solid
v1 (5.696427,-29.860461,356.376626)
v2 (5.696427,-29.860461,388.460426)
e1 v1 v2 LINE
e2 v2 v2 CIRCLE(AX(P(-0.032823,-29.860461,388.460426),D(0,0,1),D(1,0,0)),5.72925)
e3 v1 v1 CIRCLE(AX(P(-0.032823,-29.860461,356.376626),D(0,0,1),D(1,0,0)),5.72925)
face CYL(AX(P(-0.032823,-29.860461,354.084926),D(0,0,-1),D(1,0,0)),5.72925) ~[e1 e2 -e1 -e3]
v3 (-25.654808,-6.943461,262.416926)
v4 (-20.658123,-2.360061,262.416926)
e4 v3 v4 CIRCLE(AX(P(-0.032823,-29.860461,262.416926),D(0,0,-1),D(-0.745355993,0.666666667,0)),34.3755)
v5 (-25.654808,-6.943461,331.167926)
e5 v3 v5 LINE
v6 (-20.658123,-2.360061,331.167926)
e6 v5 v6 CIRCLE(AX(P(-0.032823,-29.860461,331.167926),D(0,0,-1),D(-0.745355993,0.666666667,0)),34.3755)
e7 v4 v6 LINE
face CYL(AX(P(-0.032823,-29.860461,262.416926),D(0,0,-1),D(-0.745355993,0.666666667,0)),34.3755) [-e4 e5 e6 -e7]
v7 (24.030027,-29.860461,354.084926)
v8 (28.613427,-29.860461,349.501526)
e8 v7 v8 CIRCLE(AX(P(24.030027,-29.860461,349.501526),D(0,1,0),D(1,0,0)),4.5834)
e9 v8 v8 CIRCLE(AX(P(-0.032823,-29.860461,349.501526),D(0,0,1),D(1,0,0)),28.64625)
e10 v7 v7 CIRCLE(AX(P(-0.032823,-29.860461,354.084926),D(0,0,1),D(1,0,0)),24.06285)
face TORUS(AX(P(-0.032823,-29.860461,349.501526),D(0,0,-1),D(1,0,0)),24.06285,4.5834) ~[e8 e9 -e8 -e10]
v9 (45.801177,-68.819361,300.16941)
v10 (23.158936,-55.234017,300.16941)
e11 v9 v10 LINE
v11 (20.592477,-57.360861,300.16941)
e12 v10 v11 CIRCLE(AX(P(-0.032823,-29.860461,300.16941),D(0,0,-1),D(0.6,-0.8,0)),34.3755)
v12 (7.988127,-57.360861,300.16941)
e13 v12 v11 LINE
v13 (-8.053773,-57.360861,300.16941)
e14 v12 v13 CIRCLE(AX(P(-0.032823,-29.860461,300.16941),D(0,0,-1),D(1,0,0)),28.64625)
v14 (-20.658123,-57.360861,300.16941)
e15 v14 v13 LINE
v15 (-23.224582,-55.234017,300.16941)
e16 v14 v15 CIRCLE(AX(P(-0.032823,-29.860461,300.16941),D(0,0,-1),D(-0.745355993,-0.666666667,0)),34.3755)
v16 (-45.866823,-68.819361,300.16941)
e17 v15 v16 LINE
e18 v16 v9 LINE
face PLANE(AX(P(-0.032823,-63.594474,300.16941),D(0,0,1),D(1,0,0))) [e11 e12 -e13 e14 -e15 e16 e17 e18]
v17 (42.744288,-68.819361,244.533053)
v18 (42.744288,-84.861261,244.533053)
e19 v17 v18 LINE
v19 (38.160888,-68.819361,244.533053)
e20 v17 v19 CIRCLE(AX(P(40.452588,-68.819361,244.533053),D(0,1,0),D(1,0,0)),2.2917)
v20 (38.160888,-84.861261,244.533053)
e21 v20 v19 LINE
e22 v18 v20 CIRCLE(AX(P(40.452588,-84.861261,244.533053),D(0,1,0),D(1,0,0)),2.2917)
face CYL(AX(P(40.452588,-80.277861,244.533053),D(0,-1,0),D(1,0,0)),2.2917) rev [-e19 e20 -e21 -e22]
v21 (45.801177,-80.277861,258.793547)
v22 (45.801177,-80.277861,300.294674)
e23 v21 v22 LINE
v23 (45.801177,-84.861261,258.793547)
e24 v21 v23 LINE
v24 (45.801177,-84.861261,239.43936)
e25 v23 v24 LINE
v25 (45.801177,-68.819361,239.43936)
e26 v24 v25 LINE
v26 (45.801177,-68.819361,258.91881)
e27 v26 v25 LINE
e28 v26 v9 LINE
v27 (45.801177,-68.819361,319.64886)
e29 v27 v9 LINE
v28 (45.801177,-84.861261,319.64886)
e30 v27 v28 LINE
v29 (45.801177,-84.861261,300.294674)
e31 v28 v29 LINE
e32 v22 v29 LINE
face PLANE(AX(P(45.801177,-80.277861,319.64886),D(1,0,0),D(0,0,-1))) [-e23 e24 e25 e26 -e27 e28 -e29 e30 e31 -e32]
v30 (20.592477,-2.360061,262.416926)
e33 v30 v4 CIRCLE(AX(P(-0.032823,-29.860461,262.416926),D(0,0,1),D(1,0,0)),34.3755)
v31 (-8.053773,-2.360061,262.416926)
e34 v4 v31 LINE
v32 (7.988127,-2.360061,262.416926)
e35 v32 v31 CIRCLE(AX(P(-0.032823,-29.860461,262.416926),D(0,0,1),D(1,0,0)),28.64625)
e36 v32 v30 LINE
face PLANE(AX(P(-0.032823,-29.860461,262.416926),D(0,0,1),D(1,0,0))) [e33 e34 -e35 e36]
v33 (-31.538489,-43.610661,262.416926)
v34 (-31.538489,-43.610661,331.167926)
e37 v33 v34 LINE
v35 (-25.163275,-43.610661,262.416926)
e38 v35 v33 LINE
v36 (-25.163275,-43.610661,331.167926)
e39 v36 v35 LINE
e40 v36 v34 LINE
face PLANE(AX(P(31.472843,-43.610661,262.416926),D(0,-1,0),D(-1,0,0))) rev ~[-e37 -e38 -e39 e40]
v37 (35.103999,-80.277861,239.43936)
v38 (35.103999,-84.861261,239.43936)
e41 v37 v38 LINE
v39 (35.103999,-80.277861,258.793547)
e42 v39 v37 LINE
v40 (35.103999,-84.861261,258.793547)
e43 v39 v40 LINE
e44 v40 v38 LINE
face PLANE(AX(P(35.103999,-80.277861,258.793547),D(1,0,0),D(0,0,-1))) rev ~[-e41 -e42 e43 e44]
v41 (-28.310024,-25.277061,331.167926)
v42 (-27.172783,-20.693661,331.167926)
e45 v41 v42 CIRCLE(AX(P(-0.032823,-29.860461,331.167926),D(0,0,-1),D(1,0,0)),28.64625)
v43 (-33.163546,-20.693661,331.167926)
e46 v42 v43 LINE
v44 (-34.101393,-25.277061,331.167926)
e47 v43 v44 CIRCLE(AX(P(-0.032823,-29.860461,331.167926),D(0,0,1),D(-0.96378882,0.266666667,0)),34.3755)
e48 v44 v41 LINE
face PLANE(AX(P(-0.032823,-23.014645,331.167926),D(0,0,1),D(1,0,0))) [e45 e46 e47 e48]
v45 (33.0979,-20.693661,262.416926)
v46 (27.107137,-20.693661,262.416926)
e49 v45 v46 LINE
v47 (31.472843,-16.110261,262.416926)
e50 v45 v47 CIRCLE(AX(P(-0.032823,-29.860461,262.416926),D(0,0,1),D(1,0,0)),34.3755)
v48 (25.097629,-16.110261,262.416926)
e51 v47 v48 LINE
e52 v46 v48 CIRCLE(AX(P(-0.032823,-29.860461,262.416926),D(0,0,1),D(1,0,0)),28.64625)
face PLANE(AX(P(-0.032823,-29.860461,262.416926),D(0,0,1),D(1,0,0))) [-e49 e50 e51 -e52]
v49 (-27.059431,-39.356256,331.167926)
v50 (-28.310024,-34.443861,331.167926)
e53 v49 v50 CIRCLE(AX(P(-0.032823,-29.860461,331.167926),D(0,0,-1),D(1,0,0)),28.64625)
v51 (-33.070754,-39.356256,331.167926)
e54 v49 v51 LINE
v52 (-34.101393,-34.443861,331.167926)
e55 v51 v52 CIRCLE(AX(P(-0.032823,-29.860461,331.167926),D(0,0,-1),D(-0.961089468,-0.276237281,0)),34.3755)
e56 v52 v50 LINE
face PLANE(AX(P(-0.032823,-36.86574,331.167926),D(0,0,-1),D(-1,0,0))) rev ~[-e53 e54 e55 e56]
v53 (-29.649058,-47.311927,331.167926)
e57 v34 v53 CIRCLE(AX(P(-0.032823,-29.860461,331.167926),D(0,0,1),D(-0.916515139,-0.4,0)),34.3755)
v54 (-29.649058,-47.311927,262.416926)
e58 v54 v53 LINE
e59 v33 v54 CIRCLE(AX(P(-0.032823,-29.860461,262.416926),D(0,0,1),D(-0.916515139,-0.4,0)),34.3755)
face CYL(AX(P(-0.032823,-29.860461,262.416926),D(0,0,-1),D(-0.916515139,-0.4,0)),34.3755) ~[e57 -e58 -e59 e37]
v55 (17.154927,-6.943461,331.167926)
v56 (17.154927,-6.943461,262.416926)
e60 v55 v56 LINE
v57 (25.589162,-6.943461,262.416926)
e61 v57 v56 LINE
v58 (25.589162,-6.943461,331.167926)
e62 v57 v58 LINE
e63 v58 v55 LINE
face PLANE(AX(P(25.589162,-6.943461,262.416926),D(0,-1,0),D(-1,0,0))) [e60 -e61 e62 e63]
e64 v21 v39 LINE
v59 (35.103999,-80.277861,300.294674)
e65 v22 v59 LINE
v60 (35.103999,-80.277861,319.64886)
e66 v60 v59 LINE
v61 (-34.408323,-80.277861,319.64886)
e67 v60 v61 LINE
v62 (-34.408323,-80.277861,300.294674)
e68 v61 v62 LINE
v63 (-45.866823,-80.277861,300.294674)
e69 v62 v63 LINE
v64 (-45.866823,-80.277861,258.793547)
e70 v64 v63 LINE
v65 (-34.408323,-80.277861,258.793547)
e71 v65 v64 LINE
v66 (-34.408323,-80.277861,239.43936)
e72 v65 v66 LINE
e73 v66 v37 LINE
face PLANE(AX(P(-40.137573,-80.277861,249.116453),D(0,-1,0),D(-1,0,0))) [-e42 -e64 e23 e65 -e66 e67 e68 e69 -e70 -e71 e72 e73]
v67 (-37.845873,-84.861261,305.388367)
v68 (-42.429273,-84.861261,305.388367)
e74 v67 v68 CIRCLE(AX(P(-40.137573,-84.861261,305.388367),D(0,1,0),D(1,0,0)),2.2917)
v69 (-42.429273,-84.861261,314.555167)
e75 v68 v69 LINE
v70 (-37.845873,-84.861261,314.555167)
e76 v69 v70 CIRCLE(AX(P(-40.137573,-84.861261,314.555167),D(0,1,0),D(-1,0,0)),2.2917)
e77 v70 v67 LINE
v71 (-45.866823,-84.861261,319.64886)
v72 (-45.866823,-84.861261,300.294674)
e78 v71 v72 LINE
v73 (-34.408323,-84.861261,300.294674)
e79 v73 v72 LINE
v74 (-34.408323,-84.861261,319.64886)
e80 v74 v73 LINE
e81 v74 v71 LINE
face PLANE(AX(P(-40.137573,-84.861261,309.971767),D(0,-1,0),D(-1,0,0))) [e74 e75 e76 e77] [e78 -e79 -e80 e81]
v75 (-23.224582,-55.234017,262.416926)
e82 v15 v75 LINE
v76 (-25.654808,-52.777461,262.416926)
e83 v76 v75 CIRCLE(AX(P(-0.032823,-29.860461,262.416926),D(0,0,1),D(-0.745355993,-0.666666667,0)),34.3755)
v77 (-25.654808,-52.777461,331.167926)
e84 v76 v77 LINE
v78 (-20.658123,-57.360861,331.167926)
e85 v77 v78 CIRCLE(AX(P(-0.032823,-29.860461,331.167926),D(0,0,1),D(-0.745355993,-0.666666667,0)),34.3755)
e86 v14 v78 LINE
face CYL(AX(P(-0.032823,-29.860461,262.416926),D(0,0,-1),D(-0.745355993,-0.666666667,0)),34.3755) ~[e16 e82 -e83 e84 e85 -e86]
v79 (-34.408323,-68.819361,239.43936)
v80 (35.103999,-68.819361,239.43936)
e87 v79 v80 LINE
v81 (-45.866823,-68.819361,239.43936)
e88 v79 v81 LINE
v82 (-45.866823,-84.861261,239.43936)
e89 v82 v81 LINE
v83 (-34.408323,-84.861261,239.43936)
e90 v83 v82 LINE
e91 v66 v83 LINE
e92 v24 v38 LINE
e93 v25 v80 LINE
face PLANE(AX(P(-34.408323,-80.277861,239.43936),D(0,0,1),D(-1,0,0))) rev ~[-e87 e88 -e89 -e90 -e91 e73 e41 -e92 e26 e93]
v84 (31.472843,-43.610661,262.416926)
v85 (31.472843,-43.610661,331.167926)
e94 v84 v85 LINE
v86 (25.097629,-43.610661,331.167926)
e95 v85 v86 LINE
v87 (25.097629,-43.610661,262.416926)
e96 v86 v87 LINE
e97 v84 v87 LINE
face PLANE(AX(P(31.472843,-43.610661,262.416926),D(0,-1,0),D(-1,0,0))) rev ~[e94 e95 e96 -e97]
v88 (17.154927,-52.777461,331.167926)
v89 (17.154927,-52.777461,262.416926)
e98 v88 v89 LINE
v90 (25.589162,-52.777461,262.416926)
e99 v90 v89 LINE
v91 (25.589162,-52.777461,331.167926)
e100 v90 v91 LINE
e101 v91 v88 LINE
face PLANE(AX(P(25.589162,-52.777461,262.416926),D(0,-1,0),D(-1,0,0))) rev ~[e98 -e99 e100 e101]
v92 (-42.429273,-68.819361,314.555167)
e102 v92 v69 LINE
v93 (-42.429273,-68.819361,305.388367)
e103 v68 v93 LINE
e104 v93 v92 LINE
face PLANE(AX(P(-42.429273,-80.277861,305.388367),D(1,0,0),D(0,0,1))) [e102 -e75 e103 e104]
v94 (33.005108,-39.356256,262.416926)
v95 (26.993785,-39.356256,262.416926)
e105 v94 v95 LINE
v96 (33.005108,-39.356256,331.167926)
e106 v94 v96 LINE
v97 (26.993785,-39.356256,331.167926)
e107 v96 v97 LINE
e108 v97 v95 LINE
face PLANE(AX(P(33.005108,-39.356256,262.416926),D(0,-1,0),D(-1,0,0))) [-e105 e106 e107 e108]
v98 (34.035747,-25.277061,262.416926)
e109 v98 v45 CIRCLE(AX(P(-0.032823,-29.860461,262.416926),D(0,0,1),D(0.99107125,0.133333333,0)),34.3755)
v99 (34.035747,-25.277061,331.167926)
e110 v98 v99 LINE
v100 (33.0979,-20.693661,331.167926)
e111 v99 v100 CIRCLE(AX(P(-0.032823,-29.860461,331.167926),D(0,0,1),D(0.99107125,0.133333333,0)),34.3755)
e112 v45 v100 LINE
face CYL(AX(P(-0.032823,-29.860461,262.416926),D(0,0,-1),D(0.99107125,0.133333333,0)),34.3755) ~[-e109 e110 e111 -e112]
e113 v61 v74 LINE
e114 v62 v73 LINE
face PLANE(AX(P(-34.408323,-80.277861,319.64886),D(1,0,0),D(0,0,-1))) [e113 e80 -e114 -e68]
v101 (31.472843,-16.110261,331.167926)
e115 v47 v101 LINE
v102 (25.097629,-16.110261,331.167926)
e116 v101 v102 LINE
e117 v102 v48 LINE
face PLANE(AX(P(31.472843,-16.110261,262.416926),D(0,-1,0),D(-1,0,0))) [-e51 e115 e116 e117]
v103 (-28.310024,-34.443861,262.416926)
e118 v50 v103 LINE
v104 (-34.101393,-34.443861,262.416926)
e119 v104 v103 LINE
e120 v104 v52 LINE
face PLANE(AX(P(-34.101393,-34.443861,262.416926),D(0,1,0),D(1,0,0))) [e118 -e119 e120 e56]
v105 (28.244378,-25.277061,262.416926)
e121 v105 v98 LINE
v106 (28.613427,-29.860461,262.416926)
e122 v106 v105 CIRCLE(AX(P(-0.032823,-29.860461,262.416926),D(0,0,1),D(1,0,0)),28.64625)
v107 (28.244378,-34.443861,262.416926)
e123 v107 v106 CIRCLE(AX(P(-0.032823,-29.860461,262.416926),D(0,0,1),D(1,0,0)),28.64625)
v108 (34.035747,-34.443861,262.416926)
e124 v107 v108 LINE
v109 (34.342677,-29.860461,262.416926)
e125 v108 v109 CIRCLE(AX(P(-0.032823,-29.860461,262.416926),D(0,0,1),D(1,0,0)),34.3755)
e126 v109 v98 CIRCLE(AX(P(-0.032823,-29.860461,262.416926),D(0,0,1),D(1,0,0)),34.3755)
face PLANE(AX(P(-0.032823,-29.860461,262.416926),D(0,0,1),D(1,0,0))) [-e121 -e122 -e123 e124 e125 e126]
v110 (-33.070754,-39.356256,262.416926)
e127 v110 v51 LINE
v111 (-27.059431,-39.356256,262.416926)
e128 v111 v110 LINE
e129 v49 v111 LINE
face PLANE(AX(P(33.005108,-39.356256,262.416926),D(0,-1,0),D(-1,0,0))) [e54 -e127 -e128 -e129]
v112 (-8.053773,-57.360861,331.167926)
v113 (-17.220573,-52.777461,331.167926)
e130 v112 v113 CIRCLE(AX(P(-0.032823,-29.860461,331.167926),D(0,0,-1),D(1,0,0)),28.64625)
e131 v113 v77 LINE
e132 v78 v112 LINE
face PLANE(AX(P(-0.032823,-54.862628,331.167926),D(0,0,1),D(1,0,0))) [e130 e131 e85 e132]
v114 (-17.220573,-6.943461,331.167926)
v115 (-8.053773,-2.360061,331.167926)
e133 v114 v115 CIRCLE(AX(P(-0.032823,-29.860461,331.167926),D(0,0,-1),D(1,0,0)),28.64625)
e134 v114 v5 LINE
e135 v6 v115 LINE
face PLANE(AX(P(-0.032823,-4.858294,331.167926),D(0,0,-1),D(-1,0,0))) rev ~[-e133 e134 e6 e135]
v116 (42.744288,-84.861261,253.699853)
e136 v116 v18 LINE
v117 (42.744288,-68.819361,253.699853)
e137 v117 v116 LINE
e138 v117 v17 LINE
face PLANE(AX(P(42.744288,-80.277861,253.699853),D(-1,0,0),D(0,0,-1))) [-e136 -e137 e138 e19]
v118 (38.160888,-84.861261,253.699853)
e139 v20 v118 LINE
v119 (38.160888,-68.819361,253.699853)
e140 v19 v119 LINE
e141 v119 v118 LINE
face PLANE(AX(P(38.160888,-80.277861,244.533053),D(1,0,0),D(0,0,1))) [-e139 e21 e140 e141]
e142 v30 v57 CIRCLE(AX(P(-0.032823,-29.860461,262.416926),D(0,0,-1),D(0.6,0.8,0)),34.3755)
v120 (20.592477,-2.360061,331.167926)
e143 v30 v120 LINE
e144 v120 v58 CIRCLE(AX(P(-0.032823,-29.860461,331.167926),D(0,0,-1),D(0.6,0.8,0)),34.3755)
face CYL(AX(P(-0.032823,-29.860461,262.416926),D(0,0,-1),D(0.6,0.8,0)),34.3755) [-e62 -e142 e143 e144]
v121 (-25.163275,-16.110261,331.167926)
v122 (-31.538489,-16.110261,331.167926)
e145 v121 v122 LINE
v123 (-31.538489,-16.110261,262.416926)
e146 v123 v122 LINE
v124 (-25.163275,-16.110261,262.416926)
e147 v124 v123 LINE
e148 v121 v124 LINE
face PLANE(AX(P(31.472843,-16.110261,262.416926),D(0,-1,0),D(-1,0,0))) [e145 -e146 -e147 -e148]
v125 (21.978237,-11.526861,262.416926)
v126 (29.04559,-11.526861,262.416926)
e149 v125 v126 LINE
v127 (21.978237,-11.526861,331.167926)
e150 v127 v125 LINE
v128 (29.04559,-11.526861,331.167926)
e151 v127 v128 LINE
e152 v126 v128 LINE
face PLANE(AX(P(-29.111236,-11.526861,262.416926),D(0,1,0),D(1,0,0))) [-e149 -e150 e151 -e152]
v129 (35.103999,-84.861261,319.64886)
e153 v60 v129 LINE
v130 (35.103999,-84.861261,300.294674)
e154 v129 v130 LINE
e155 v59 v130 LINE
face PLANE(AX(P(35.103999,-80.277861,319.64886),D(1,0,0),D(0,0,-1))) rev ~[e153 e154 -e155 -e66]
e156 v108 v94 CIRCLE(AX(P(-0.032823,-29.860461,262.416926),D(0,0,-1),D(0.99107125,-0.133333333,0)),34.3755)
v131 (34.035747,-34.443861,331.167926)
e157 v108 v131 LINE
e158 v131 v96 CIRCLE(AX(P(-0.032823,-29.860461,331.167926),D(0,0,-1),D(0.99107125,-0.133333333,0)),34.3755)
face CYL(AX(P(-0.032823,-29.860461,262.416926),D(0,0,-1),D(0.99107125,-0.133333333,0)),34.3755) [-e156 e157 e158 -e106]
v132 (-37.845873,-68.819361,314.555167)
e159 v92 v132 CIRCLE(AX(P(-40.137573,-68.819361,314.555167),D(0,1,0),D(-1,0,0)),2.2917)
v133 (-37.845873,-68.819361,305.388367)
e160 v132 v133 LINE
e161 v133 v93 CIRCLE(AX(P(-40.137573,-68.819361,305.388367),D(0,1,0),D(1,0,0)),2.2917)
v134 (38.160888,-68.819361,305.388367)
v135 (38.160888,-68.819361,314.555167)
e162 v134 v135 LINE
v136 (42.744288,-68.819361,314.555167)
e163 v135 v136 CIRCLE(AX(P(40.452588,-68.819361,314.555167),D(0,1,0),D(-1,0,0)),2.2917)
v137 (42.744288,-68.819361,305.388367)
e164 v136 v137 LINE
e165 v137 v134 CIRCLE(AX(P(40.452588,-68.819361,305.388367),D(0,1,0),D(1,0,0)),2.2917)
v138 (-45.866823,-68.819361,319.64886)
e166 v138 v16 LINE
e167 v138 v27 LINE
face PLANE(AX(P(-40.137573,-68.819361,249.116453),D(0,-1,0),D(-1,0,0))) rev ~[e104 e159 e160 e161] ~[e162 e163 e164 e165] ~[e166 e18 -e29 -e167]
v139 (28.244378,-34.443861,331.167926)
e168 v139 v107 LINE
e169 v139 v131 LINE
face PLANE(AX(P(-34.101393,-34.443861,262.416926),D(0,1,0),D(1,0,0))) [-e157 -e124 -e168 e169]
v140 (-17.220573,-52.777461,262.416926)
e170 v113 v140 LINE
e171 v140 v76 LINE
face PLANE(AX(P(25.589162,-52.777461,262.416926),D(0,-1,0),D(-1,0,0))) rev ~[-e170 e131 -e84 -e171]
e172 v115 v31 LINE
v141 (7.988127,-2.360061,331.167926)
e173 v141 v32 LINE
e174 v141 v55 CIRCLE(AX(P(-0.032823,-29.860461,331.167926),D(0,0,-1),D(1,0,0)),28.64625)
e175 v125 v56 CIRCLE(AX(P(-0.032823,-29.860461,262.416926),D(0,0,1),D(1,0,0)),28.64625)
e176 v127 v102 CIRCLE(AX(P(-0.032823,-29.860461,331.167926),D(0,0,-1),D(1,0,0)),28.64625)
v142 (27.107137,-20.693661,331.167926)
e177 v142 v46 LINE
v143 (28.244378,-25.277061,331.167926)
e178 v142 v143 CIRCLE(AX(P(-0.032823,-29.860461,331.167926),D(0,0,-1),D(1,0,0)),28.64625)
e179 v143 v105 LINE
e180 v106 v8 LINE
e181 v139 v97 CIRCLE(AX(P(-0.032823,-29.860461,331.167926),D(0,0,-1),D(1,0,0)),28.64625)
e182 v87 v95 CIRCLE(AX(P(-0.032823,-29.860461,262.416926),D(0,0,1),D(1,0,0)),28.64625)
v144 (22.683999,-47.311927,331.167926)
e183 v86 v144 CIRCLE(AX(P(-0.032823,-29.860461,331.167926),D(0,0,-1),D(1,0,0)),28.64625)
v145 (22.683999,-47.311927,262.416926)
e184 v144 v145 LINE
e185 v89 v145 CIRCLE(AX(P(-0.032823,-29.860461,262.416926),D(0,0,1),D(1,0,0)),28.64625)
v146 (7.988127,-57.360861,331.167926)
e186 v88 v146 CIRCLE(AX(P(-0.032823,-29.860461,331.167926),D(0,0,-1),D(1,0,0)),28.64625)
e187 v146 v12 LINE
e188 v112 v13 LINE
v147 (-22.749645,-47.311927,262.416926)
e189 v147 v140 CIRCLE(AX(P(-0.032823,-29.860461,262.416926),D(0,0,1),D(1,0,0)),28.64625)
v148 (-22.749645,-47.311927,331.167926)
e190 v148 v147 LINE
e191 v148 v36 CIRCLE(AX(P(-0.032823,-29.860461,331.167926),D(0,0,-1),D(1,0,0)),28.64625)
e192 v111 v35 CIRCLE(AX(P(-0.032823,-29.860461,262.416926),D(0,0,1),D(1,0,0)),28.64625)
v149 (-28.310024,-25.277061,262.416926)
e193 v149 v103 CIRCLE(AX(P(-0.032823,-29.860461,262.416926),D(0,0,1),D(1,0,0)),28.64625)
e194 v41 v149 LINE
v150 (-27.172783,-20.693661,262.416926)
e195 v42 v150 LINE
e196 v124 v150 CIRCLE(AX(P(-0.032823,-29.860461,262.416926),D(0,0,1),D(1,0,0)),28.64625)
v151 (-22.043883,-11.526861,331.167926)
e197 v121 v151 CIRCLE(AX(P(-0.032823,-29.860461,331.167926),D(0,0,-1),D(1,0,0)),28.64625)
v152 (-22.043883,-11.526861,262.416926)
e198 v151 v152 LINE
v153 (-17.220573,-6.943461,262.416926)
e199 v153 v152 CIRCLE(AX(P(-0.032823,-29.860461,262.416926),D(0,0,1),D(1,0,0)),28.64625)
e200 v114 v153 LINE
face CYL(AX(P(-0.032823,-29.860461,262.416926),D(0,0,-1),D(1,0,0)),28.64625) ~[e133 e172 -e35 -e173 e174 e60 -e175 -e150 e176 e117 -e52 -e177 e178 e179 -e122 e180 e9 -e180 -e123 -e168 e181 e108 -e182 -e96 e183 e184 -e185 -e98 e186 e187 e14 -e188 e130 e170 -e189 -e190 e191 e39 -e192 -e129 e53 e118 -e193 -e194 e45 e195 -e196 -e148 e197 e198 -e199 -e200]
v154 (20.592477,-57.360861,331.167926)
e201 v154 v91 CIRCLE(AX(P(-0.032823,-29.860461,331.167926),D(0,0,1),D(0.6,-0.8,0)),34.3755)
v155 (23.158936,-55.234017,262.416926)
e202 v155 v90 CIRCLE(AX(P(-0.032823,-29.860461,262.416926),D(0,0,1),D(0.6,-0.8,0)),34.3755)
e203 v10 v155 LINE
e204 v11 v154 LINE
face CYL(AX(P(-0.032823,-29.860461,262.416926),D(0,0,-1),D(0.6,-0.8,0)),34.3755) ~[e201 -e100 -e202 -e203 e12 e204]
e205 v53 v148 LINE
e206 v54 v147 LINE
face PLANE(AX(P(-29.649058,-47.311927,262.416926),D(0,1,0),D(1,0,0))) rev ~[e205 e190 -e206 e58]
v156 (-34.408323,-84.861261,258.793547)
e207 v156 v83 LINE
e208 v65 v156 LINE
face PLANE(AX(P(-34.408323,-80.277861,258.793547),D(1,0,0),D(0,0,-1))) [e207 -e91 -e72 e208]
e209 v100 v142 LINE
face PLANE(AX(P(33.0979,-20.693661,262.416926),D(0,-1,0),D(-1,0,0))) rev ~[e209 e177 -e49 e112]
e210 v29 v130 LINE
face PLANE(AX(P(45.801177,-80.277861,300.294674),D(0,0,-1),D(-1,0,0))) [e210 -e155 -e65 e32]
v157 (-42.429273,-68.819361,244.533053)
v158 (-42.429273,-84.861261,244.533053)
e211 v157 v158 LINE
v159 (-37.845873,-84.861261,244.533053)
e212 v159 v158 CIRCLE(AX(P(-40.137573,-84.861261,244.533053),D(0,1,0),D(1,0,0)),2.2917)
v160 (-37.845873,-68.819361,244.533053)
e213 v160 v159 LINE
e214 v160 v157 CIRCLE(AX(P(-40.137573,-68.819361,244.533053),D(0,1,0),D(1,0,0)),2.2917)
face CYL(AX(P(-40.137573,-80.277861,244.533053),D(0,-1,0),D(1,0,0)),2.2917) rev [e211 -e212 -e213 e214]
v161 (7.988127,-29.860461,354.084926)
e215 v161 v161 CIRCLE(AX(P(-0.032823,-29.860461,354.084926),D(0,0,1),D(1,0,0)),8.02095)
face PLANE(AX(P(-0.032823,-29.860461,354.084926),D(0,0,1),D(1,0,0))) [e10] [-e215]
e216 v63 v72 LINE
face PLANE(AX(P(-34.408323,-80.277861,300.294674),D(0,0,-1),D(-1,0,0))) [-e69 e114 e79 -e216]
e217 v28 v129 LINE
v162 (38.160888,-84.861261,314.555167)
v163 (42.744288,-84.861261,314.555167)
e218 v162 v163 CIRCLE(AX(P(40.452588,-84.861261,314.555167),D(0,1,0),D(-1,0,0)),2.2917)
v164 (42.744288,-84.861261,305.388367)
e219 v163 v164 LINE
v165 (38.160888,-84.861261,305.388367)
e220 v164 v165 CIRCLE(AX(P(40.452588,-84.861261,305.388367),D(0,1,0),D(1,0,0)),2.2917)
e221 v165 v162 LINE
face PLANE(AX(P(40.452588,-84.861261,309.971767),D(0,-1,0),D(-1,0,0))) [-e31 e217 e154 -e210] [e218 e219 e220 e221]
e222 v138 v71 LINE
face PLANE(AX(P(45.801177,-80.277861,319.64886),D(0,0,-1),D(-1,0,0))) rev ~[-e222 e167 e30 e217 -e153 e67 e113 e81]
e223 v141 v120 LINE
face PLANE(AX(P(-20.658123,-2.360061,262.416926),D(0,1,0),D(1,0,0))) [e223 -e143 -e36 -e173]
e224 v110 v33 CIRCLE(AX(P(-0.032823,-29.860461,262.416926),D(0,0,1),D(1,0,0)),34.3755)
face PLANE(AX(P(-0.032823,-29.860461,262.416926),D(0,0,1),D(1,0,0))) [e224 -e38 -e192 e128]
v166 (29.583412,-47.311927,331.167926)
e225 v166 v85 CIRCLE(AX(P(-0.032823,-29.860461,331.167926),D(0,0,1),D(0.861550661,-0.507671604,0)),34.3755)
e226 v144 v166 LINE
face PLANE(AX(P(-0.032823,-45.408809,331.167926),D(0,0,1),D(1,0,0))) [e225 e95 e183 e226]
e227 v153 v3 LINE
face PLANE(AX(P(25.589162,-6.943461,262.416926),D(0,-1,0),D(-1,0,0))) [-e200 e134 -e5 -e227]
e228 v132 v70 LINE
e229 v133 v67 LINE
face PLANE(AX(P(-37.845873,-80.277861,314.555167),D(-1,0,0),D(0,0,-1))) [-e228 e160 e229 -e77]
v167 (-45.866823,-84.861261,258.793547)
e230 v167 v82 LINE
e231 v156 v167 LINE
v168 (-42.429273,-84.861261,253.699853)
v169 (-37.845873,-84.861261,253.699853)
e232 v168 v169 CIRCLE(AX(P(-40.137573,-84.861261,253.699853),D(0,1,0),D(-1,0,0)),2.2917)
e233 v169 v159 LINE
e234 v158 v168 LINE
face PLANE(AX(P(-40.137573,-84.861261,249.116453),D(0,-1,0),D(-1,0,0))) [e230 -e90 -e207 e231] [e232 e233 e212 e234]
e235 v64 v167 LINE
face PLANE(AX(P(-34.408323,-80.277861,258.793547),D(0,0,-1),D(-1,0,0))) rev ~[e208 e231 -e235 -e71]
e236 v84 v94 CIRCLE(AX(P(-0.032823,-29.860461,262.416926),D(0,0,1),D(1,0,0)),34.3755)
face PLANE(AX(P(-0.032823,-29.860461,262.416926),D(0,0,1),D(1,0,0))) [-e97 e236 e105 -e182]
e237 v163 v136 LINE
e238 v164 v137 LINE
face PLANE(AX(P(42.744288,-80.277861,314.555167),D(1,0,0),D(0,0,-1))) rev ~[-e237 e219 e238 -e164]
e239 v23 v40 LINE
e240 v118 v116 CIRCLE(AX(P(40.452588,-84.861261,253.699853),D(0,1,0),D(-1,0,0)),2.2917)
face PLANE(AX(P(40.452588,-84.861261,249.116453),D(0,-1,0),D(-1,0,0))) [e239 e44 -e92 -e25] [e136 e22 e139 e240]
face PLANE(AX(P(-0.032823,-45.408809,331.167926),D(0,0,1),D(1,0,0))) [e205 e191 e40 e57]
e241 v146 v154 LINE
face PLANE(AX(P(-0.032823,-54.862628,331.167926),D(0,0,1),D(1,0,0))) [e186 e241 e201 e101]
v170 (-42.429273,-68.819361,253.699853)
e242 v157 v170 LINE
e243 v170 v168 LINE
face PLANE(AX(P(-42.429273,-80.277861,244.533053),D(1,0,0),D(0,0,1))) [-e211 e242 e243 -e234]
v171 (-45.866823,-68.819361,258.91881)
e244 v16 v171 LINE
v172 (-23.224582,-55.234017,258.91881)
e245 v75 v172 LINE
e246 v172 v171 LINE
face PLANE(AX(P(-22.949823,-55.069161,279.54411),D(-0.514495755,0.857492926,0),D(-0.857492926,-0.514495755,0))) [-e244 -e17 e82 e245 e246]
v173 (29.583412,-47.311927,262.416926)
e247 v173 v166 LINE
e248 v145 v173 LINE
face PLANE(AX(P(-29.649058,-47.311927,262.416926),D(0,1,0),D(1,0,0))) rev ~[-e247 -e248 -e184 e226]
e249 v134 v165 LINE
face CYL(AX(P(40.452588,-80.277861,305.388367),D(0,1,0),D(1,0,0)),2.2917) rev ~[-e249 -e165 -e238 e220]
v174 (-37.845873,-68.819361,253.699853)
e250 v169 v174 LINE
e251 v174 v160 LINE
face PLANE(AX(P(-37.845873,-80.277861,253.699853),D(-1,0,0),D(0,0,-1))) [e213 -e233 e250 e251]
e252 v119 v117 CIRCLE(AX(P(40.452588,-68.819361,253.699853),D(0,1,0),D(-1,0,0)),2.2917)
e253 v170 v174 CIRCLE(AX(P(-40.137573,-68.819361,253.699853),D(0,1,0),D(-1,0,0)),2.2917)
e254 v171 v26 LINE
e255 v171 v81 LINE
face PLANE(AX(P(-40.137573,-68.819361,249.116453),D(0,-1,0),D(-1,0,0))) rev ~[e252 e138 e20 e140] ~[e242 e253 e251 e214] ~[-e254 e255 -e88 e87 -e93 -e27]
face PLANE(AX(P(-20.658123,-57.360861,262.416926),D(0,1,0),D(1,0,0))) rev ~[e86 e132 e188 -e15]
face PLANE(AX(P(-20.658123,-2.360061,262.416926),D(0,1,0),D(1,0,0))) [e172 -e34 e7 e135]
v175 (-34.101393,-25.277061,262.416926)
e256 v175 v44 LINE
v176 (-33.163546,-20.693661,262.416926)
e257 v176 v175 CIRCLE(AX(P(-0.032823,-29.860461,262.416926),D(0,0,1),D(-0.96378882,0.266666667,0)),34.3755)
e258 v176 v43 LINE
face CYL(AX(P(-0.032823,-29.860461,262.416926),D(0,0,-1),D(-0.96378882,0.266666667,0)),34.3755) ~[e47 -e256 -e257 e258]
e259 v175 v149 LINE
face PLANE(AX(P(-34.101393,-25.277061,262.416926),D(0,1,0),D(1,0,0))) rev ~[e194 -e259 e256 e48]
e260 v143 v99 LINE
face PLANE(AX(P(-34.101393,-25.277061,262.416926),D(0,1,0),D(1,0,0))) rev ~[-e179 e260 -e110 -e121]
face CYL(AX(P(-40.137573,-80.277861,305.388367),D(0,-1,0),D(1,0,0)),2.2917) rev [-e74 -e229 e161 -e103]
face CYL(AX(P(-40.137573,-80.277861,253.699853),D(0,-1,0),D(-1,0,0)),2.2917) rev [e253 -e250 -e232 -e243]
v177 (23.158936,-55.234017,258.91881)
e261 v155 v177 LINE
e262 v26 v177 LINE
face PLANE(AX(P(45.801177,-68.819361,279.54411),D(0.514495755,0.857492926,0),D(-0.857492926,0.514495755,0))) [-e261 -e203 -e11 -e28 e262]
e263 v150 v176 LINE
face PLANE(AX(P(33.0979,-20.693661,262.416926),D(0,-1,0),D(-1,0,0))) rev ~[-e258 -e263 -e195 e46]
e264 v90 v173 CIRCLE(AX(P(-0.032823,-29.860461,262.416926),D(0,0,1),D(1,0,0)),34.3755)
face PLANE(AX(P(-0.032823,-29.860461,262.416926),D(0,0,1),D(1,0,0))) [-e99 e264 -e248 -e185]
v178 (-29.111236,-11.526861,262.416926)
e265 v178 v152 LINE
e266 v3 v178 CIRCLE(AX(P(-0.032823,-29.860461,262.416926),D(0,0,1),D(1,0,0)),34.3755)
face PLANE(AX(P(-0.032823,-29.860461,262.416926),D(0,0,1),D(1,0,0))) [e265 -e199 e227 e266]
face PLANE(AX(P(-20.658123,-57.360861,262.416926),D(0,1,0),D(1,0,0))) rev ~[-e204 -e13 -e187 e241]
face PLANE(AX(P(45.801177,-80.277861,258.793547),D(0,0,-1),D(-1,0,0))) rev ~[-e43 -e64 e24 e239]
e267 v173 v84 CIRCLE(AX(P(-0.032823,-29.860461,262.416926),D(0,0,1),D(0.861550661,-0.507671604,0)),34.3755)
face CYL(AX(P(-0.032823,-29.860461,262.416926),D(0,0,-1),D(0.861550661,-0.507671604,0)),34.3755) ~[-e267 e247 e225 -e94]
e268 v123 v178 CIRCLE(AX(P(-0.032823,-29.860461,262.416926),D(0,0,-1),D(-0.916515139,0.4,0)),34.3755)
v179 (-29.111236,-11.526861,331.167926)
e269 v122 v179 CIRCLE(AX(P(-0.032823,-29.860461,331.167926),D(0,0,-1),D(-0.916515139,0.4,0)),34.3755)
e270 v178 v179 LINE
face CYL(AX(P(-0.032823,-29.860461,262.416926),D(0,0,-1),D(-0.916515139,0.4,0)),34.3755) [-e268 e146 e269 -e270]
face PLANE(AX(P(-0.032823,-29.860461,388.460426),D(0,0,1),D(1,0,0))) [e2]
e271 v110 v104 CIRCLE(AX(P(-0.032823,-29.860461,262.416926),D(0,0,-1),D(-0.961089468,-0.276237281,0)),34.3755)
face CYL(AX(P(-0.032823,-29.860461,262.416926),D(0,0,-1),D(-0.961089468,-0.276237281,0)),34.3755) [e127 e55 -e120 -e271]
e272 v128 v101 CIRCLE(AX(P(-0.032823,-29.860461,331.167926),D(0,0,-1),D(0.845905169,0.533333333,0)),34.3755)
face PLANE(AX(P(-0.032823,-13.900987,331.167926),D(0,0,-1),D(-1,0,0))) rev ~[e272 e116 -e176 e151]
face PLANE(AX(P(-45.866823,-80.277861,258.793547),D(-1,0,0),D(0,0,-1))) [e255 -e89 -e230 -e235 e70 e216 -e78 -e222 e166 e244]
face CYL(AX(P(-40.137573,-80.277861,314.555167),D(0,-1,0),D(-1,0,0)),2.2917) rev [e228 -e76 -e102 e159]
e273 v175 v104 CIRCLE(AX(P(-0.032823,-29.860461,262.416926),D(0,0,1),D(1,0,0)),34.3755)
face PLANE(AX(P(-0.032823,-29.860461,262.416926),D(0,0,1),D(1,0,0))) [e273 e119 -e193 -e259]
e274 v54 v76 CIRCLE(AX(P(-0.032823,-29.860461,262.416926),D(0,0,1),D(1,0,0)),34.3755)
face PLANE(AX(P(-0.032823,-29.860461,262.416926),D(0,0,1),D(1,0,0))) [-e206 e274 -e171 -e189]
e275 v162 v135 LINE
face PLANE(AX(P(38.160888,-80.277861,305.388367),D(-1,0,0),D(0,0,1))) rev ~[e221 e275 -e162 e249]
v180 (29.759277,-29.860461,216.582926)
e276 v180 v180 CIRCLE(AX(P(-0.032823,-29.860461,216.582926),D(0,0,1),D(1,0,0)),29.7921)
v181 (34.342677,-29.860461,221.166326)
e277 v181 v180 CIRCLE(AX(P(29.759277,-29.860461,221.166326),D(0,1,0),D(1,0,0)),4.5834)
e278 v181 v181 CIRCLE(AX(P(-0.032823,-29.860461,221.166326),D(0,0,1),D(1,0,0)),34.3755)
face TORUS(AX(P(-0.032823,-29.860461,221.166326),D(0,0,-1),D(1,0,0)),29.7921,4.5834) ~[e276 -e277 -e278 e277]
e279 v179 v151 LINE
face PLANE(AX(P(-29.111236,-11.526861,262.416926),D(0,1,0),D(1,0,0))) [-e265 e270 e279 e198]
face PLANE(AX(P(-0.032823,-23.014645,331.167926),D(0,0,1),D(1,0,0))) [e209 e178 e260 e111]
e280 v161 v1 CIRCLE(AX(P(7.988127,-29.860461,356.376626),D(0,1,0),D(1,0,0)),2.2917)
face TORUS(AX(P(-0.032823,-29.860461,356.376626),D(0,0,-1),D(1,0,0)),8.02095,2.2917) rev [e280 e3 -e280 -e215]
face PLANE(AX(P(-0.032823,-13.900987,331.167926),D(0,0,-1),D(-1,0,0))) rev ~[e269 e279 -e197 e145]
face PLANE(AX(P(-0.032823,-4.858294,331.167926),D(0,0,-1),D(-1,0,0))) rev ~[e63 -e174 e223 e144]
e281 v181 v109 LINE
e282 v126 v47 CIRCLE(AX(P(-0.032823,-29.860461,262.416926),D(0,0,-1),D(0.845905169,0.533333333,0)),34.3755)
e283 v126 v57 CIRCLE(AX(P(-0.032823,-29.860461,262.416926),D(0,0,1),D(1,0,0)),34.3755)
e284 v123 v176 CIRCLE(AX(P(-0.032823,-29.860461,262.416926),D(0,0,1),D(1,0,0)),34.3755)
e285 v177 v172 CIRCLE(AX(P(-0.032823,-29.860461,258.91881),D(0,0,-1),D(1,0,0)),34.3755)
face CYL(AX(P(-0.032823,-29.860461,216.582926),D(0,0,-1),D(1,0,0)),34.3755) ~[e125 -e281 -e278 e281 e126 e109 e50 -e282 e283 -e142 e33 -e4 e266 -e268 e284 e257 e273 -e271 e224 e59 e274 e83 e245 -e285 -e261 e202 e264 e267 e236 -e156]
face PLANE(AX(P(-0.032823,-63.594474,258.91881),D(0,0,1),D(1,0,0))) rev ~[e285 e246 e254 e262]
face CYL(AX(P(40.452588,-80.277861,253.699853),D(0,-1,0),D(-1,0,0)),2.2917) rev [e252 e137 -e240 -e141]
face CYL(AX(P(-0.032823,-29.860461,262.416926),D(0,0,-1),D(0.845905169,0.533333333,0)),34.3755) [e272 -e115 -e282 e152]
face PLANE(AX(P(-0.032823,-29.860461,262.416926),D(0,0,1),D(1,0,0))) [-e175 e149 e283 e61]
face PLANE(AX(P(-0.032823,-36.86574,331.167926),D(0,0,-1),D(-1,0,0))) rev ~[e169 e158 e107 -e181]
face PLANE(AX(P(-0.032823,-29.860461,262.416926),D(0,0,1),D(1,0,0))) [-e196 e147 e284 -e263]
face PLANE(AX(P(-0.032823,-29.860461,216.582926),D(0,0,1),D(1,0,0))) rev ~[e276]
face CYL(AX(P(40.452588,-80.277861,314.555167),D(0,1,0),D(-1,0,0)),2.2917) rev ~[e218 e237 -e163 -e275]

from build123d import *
from build123d.topology import SkipClean

# Parameters (mm, degrees)
SKETCH1_R            = 150
BOSS_EXTRUDE1_DEPTH  = 200
BOSS_EXTRUDE11_DEPTH = 300
BOSS_EXTRUDE14_START = -300
SKETCH12_R           = 125
BOSS_EXTRUDE14_DEPTH = 400
SKETCH13_W           = 46.677917496
SKETCH13_H           = 84.453402707
SKETCH13_H_2         = 84.453402706
SKETCH13_W_2         = 50
BOSS_EXTRUDE15_DEPTH = 50
SKETCH13_3_W         = 46.677917496
SKETCH13_3_H         = 84.453402706
SKETCH13_3_H_2       = 84.453402707
SKETCH13_3_W_2       = 50
BOSS_EXTRUDE16_DEPTH = 20
BOSS_EXTRUDE17_DEPTH = 90
SKETCH16_R           = 25
BOSS_EXTRUDE18_DEPTH = 150
FILLET2_R            = 10
FILLET3_R            = 20
SCALE4_SCALE         = 0.22917


with BuildPart() as part:
    # Sketch1 → Boss-Extrude1 (new body)
    with BuildSketch(Plane.XY):
        Circle(SKETCH1_R)
    extrude(amount=BOSS_EXTRUDE1_DEPTH)

    # Sketch7 → Boss-Extrude11 (add)
    with SkipClean():  # the faces are left unmerged after this step: merging them gives an invalid solid
        with BuildSketch(Plane.XY.offset(200)):
            with BuildLine():
                Line((-90, 120), (90, 120))
                ThreePointArc((90, 120), (101.396020382, 110.538893837), (111.803398875, 100))
                Line((111.803398875, 100), (-111.803398875, 100))
                ThreePointArc((-111.803398875, 100), (-101.396020382, 110.538893837), (-90, 120))
            make_face()
            with BuildLine():
                Line((-126.885775404, 80), (126.885775404, 80))
                ThreePointArc((126.885775404, 80), (132.559251115, 70.200035213), (137.477270849, 60))
                Line((137.477270849, 60), (-137.477270849, 60))
                ThreePointArc((-137.477270849, 60), (-132.559251115, 70.200035213), (-126.885775404, 80))
            make_face()
            with BuildLine():
                Line((144.16342013, -41.435592144), (-144.16342013, -41.435592144))
                ThreePointArc((-144.16342013, -41.435592144), (-146.803816882, -30.799989431), (-148.660687473, -20))
                Line((-148.660687473, -20), (148.660687473, -20))
                ThreePointArc((148.660687473, -20), (146.803816882, -30.799989431), (144.16342013, -41.435592144))
            make_face()
            with BuildLine():
                Line((111.803398875, -100), (-111.803398875, -100))
                ThreePointArc((-111.803398875, -100), (-101.396020382, -110.538893837), (-90, -120))
                Line((-90, -120), (90, -120))
                ThreePointArc((90, -120), (101.396020382, -110.538893837), (111.803398875, -100))
            make_face()
            with BuildLine():
                Line((144.568322948, 40), (-144.568322948, 40))
                ThreePointArc((-144.568322948, 40), (-146.955139883, 30.069700063), (-148.660687473, 20))
                Line((-148.660687473, 20), (148.660687473, 20))
                ThreePointArc((148.660687473, 20), (146.955139883, 30.069700063), (144.568322948, 40))
            make_face()
            with BuildLine():
                Line((137.477270849, -60), (-137.477270849, -60))
                ThreePointArc((-137.477270849, -60), (-133.599215205, -68.20007109), (-129.232599216, -76.150740639))
                Line((-129.232599216, -76.150740639), (129.232599216, -76.150740639))
                ThreePointArc((129.232599216, -76.150740639), (133.599215205, -68.20007109), (137.477270849, -60))
            make_face()
        extrude(amount=BOSS_EXTRUDE11_DEPTH)



with BuildPart() as body_2:
    # Sketch12 → Boss-Extrude14 (new body)
    with BuildSketch(Plane.XY.offset(500).offset(BOSS_EXTRUDE14_START)):
        Circle(SKETCH12_R)
    extrude(amount=BOSS_EXTRUDE14_DEPTH)


with BuildPart() as body_3:
    # Sketch13 → Boss-Extrude15 (new body)
    # profile 1 of 5: a face of its own
    with BuildSketch(Plane(origin=(0, -220, 0), x_dir=(-1, 0, 0), z_dir=(0, -1, 0))):
        Polygon((150, -99.735715433), (-153.322082504, -99.735715433), (-153.322082504, -184.18911814), (-200, -184.18911814), (-200, -365.282312727), (-153.322082504, -365.282312727), (-153.322082504, -449.735715433), (150, -449.735715433), (150, -365.282312727), (200, -365.282312727), (200, -184.18911814), (150, -184.18911814), align=None)
    # profile 2 of 5: a face of its own
    with BuildSketch(Plane(origin=(0, -220, 0), x_dir=(-1, 0, 0), z_dir=(0, -1, 0))):
        with Locations((-176.661041252, -141.962416787)):
            Rectangle(SKETCH13_W, SKETCH13_H)
        with BuildLine():
            ThreePointArc((-186.661041252, -121.962416787), (-176.661041252, -111.962416787), (-166.661041252, -121.962416787))
            Line((-166.661041252, -121.962416787), (-166.661041252, -161.962416787))
            ThreePointArc((-166.661041252, -161.962416787), (-176.661041252, -171.962416787), (-186.661041252, -161.962416787))
            Line((-186.661041252, -161.962416787), (-186.661041252, -121.962416787))
        make_face(mode=Mode.SUBTRACT)
    # profile 3 of 5: a face of its own
    with BuildSketch(Plane(origin=(0, -220, 0), x_dir=(-1, 0, 0), z_dir=(0, -1, 0))):
        with Locations((-176.661041252, -407.50901408)):
            Rectangle(SKETCH13_W, SKETCH13_H_2)
        with BuildLine():
            Line((-166.661041252, -387.50901408), (-166.661041252, -427.50901408))
            ThreePointArc((-166.661041252, -427.50901408), (-176.661041252, -437.50901408), (-186.661041252, -427.50901408))
            Line((-186.661041252, -427.50901408), (-186.661041252, -387.50901408))
            ThreePointArc((-186.661041252, -387.50901408), (-176.661041252, -377.50901408), (-166.661041252, -387.50901408))
        make_face(mode=Mode.SUBTRACT)
    # profile 4 of 5: a face of its own
    with BuildSketch(Plane(origin=(0, -220, 0), x_dir=(-1, 0, 0), z_dir=(0, -1, 0))):
        with Locations((175, -407.50901408)):
            Rectangle(SKETCH13_W_2, SKETCH13_H_2)
        with BuildLine():
            Line((185, -387.50901408), (185, -427.50901408))
            ThreePointArc((185, -427.50901408), (175, -437.50901408), (165, -427.50901408))
            Line((165, -427.50901408), (165, -387.50901408))
            ThreePointArc((165, -387.50901408), (175, -377.50901408), (185, -387.50901408))
        make_face(mode=Mode.SUBTRACT)
    # profile 5 of 5: a face of its own
    with BuildSketch(Plane(origin=(0, -220, 0), x_dir=(-1, 0, 0), z_dir=(0, -1, 0))):
        with Locations((175, -141.962416787)):
            Rectangle(SKETCH13_W_2, SKETCH13_H)
        with BuildLine():
            ThreePointArc((165, -121.962416787), (175, -111.962416787), (185, -121.962416787))
            Line((185, -121.962416787), (185, -161.962416787))
            ThreePointArc((185, -161.962416787), (175, -171.962416787), (165, -161.962416787))
            Line((165, -161.962416787), (165, -121.962416787))
        make_face(mode=Mode.SUBTRACT)
    extrude(amount=-BOSS_EXTRUDE15_DEPTH)

    # Sketch13<3> → Boss-Extrude16 (add)
    # profile 1 of 4: a face of its own
    with BuildSketch(Plane(origin=(0, -220, 0), x_dir=(-1, 0, 0), z_dir=(0, -1, 0))):
        with Locations((-176.661041252, -407.50901408)):
            Rectangle(SKETCH13_3_W, SKETCH13_3_H)
        with BuildLine():
            Line((-166.661041252, -387.50901408), (-166.661041252, -427.50901408))
            ThreePointArc((-166.661041252, -427.50901408), (-176.661041252, -437.50901408), (-186.661041252, -427.50901408))
            Line((-186.661041252, -427.50901408), (-186.661041252, -387.50901408))
            ThreePointArc((-186.661041252, -387.50901408), (-176.661041252, -377.50901408), (-166.661041252, -387.50901408))
        make_face(mode=Mode.SUBTRACT)
    # profile 2 of 4: a face of its own
    with BuildSketch(Plane(origin=(0, -220, 0), x_dir=(-1, 0, 0), z_dir=(0, -1, 0))):
        with Locations((-176.661041252, -141.962416787)):
            Rectangle(SKETCH13_3_W, SKETCH13_3_H_2)
        with BuildLine():
            ThreePointArc((-186.661041252, -121.962416787), (-176.661041252, -111.962416787), (-166.661041252, -121.962416787))
            Line((-166.661041252, -121.962416787), (-166.661041252, -161.962416787))
            ThreePointArc((-166.661041252, -161.962416787), (-176.661041252, -171.962416787), (-186.661041252, -161.962416787))
            Line((-186.661041252, -161.962416787), (-186.661041252, -121.962416787))
        make_face(mode=Mode.SUBTRACT)
    # profile 3 of 4: a face of its own
    with BuildSketch(Plane(origin=(0, -220, 0), x_dir=(-1, 0, 0), z_dir=(0, -1, 0))):
        with Locations((175, -407.50901408)):
            Rectangle(SKETCH13_3_W_2, SKETCH13_3_H)
        with BuildLine():
            Line((185, -387.50901408), (185, -427.50901408))
            ThreePointArc((185, -427.50901408), (175, -437.50901408), (165, -427.50901408))
            Line((165, -427.50901408), (165, -387.50901408))
            ThreePointArc((165, -387.50901408), (175, -377.50901408), (185, -387.50901408))
        make_face(mode=Mode.SUBTRACT)
    # profile 4 of 4: a face of its own
    with BuildSketch(Plane(origin=(0, -220, 0), x_dir=(-1, 0, 0), z_dir=(0, -1, 0))):
        with Locations((175, -141.962416787)):
            Rectangle(SKETCH13_3_W_2, SKETCH13_3_H_2)
        with BuildLine():
            ThreePointArc((165, -121.962416787), (175, -111.962416787), (185, -121.962416787))
            Line((185, -121.962416787), (185, -161.962416787))
            ThreePointArc((185, -161.962416787), (175, -171.962416787), (165, -161.962416787))
            Line((165, -161.962416787), (165, -121.962416787))
        make_face(mode=Mode.SUBTRACT)
    extrude(amount=BOSS_EXTRUDE16_DEPTH)


with BuildPart() as part_1:
    with SkipClean():  # the faces are left unmerged after this step: merging them gives an invalid solid
        add(part.part)

        add(body_2.part)  # Boss-Extrude17 merges body 2

        add(body_3.part)  # Boss-Extrude17 merges body 3
        # Sketch14 → Boss-Extrude17 (add, symmetric)
        with BuildSketch(Plane.XY.offset(274.735715433)):
            Polygon((-200, -170), (200, -170), (100, -110), (-100, -110), align=None)
        extrude(amount=BOSS_EXTRUDE17_DEPTH, both=True)

    # Sketch16 → Boss-Extrude18 (add)
    with BuildSketch(Plane.XY.offset(600)):
        Circle(SKETCH16_R)
    extrude(amount=BOSS_EXTRUDE18_DEPTH)

    # Fillet2
    fillet2_edges = [part_1.edges().sort_by_distance(p)[0] for p in [
        (-25, 0, 600),
    ]]
    fillet(fillet2_edges, radius=FILLET2_R)

    # Fillet3
    fillet3_edges = [part_1.edges().sort_by_distance(p)[0] for p in [
        (-125, 0, 600),
        (-150, 0, 0),
    ]]
    fillet(fillet3_edges, radius=FILLET3_R)


with BuildPart() as part_2:
    # Scale4: scaled about (-0.042581341, -38.738063296, 280.973660068)
    add(part_1.part.scale(SCALE4_SCALE).moved(Location((-0.032822975, -29.86046133, 216.58292639))))


solid = part_2.part
